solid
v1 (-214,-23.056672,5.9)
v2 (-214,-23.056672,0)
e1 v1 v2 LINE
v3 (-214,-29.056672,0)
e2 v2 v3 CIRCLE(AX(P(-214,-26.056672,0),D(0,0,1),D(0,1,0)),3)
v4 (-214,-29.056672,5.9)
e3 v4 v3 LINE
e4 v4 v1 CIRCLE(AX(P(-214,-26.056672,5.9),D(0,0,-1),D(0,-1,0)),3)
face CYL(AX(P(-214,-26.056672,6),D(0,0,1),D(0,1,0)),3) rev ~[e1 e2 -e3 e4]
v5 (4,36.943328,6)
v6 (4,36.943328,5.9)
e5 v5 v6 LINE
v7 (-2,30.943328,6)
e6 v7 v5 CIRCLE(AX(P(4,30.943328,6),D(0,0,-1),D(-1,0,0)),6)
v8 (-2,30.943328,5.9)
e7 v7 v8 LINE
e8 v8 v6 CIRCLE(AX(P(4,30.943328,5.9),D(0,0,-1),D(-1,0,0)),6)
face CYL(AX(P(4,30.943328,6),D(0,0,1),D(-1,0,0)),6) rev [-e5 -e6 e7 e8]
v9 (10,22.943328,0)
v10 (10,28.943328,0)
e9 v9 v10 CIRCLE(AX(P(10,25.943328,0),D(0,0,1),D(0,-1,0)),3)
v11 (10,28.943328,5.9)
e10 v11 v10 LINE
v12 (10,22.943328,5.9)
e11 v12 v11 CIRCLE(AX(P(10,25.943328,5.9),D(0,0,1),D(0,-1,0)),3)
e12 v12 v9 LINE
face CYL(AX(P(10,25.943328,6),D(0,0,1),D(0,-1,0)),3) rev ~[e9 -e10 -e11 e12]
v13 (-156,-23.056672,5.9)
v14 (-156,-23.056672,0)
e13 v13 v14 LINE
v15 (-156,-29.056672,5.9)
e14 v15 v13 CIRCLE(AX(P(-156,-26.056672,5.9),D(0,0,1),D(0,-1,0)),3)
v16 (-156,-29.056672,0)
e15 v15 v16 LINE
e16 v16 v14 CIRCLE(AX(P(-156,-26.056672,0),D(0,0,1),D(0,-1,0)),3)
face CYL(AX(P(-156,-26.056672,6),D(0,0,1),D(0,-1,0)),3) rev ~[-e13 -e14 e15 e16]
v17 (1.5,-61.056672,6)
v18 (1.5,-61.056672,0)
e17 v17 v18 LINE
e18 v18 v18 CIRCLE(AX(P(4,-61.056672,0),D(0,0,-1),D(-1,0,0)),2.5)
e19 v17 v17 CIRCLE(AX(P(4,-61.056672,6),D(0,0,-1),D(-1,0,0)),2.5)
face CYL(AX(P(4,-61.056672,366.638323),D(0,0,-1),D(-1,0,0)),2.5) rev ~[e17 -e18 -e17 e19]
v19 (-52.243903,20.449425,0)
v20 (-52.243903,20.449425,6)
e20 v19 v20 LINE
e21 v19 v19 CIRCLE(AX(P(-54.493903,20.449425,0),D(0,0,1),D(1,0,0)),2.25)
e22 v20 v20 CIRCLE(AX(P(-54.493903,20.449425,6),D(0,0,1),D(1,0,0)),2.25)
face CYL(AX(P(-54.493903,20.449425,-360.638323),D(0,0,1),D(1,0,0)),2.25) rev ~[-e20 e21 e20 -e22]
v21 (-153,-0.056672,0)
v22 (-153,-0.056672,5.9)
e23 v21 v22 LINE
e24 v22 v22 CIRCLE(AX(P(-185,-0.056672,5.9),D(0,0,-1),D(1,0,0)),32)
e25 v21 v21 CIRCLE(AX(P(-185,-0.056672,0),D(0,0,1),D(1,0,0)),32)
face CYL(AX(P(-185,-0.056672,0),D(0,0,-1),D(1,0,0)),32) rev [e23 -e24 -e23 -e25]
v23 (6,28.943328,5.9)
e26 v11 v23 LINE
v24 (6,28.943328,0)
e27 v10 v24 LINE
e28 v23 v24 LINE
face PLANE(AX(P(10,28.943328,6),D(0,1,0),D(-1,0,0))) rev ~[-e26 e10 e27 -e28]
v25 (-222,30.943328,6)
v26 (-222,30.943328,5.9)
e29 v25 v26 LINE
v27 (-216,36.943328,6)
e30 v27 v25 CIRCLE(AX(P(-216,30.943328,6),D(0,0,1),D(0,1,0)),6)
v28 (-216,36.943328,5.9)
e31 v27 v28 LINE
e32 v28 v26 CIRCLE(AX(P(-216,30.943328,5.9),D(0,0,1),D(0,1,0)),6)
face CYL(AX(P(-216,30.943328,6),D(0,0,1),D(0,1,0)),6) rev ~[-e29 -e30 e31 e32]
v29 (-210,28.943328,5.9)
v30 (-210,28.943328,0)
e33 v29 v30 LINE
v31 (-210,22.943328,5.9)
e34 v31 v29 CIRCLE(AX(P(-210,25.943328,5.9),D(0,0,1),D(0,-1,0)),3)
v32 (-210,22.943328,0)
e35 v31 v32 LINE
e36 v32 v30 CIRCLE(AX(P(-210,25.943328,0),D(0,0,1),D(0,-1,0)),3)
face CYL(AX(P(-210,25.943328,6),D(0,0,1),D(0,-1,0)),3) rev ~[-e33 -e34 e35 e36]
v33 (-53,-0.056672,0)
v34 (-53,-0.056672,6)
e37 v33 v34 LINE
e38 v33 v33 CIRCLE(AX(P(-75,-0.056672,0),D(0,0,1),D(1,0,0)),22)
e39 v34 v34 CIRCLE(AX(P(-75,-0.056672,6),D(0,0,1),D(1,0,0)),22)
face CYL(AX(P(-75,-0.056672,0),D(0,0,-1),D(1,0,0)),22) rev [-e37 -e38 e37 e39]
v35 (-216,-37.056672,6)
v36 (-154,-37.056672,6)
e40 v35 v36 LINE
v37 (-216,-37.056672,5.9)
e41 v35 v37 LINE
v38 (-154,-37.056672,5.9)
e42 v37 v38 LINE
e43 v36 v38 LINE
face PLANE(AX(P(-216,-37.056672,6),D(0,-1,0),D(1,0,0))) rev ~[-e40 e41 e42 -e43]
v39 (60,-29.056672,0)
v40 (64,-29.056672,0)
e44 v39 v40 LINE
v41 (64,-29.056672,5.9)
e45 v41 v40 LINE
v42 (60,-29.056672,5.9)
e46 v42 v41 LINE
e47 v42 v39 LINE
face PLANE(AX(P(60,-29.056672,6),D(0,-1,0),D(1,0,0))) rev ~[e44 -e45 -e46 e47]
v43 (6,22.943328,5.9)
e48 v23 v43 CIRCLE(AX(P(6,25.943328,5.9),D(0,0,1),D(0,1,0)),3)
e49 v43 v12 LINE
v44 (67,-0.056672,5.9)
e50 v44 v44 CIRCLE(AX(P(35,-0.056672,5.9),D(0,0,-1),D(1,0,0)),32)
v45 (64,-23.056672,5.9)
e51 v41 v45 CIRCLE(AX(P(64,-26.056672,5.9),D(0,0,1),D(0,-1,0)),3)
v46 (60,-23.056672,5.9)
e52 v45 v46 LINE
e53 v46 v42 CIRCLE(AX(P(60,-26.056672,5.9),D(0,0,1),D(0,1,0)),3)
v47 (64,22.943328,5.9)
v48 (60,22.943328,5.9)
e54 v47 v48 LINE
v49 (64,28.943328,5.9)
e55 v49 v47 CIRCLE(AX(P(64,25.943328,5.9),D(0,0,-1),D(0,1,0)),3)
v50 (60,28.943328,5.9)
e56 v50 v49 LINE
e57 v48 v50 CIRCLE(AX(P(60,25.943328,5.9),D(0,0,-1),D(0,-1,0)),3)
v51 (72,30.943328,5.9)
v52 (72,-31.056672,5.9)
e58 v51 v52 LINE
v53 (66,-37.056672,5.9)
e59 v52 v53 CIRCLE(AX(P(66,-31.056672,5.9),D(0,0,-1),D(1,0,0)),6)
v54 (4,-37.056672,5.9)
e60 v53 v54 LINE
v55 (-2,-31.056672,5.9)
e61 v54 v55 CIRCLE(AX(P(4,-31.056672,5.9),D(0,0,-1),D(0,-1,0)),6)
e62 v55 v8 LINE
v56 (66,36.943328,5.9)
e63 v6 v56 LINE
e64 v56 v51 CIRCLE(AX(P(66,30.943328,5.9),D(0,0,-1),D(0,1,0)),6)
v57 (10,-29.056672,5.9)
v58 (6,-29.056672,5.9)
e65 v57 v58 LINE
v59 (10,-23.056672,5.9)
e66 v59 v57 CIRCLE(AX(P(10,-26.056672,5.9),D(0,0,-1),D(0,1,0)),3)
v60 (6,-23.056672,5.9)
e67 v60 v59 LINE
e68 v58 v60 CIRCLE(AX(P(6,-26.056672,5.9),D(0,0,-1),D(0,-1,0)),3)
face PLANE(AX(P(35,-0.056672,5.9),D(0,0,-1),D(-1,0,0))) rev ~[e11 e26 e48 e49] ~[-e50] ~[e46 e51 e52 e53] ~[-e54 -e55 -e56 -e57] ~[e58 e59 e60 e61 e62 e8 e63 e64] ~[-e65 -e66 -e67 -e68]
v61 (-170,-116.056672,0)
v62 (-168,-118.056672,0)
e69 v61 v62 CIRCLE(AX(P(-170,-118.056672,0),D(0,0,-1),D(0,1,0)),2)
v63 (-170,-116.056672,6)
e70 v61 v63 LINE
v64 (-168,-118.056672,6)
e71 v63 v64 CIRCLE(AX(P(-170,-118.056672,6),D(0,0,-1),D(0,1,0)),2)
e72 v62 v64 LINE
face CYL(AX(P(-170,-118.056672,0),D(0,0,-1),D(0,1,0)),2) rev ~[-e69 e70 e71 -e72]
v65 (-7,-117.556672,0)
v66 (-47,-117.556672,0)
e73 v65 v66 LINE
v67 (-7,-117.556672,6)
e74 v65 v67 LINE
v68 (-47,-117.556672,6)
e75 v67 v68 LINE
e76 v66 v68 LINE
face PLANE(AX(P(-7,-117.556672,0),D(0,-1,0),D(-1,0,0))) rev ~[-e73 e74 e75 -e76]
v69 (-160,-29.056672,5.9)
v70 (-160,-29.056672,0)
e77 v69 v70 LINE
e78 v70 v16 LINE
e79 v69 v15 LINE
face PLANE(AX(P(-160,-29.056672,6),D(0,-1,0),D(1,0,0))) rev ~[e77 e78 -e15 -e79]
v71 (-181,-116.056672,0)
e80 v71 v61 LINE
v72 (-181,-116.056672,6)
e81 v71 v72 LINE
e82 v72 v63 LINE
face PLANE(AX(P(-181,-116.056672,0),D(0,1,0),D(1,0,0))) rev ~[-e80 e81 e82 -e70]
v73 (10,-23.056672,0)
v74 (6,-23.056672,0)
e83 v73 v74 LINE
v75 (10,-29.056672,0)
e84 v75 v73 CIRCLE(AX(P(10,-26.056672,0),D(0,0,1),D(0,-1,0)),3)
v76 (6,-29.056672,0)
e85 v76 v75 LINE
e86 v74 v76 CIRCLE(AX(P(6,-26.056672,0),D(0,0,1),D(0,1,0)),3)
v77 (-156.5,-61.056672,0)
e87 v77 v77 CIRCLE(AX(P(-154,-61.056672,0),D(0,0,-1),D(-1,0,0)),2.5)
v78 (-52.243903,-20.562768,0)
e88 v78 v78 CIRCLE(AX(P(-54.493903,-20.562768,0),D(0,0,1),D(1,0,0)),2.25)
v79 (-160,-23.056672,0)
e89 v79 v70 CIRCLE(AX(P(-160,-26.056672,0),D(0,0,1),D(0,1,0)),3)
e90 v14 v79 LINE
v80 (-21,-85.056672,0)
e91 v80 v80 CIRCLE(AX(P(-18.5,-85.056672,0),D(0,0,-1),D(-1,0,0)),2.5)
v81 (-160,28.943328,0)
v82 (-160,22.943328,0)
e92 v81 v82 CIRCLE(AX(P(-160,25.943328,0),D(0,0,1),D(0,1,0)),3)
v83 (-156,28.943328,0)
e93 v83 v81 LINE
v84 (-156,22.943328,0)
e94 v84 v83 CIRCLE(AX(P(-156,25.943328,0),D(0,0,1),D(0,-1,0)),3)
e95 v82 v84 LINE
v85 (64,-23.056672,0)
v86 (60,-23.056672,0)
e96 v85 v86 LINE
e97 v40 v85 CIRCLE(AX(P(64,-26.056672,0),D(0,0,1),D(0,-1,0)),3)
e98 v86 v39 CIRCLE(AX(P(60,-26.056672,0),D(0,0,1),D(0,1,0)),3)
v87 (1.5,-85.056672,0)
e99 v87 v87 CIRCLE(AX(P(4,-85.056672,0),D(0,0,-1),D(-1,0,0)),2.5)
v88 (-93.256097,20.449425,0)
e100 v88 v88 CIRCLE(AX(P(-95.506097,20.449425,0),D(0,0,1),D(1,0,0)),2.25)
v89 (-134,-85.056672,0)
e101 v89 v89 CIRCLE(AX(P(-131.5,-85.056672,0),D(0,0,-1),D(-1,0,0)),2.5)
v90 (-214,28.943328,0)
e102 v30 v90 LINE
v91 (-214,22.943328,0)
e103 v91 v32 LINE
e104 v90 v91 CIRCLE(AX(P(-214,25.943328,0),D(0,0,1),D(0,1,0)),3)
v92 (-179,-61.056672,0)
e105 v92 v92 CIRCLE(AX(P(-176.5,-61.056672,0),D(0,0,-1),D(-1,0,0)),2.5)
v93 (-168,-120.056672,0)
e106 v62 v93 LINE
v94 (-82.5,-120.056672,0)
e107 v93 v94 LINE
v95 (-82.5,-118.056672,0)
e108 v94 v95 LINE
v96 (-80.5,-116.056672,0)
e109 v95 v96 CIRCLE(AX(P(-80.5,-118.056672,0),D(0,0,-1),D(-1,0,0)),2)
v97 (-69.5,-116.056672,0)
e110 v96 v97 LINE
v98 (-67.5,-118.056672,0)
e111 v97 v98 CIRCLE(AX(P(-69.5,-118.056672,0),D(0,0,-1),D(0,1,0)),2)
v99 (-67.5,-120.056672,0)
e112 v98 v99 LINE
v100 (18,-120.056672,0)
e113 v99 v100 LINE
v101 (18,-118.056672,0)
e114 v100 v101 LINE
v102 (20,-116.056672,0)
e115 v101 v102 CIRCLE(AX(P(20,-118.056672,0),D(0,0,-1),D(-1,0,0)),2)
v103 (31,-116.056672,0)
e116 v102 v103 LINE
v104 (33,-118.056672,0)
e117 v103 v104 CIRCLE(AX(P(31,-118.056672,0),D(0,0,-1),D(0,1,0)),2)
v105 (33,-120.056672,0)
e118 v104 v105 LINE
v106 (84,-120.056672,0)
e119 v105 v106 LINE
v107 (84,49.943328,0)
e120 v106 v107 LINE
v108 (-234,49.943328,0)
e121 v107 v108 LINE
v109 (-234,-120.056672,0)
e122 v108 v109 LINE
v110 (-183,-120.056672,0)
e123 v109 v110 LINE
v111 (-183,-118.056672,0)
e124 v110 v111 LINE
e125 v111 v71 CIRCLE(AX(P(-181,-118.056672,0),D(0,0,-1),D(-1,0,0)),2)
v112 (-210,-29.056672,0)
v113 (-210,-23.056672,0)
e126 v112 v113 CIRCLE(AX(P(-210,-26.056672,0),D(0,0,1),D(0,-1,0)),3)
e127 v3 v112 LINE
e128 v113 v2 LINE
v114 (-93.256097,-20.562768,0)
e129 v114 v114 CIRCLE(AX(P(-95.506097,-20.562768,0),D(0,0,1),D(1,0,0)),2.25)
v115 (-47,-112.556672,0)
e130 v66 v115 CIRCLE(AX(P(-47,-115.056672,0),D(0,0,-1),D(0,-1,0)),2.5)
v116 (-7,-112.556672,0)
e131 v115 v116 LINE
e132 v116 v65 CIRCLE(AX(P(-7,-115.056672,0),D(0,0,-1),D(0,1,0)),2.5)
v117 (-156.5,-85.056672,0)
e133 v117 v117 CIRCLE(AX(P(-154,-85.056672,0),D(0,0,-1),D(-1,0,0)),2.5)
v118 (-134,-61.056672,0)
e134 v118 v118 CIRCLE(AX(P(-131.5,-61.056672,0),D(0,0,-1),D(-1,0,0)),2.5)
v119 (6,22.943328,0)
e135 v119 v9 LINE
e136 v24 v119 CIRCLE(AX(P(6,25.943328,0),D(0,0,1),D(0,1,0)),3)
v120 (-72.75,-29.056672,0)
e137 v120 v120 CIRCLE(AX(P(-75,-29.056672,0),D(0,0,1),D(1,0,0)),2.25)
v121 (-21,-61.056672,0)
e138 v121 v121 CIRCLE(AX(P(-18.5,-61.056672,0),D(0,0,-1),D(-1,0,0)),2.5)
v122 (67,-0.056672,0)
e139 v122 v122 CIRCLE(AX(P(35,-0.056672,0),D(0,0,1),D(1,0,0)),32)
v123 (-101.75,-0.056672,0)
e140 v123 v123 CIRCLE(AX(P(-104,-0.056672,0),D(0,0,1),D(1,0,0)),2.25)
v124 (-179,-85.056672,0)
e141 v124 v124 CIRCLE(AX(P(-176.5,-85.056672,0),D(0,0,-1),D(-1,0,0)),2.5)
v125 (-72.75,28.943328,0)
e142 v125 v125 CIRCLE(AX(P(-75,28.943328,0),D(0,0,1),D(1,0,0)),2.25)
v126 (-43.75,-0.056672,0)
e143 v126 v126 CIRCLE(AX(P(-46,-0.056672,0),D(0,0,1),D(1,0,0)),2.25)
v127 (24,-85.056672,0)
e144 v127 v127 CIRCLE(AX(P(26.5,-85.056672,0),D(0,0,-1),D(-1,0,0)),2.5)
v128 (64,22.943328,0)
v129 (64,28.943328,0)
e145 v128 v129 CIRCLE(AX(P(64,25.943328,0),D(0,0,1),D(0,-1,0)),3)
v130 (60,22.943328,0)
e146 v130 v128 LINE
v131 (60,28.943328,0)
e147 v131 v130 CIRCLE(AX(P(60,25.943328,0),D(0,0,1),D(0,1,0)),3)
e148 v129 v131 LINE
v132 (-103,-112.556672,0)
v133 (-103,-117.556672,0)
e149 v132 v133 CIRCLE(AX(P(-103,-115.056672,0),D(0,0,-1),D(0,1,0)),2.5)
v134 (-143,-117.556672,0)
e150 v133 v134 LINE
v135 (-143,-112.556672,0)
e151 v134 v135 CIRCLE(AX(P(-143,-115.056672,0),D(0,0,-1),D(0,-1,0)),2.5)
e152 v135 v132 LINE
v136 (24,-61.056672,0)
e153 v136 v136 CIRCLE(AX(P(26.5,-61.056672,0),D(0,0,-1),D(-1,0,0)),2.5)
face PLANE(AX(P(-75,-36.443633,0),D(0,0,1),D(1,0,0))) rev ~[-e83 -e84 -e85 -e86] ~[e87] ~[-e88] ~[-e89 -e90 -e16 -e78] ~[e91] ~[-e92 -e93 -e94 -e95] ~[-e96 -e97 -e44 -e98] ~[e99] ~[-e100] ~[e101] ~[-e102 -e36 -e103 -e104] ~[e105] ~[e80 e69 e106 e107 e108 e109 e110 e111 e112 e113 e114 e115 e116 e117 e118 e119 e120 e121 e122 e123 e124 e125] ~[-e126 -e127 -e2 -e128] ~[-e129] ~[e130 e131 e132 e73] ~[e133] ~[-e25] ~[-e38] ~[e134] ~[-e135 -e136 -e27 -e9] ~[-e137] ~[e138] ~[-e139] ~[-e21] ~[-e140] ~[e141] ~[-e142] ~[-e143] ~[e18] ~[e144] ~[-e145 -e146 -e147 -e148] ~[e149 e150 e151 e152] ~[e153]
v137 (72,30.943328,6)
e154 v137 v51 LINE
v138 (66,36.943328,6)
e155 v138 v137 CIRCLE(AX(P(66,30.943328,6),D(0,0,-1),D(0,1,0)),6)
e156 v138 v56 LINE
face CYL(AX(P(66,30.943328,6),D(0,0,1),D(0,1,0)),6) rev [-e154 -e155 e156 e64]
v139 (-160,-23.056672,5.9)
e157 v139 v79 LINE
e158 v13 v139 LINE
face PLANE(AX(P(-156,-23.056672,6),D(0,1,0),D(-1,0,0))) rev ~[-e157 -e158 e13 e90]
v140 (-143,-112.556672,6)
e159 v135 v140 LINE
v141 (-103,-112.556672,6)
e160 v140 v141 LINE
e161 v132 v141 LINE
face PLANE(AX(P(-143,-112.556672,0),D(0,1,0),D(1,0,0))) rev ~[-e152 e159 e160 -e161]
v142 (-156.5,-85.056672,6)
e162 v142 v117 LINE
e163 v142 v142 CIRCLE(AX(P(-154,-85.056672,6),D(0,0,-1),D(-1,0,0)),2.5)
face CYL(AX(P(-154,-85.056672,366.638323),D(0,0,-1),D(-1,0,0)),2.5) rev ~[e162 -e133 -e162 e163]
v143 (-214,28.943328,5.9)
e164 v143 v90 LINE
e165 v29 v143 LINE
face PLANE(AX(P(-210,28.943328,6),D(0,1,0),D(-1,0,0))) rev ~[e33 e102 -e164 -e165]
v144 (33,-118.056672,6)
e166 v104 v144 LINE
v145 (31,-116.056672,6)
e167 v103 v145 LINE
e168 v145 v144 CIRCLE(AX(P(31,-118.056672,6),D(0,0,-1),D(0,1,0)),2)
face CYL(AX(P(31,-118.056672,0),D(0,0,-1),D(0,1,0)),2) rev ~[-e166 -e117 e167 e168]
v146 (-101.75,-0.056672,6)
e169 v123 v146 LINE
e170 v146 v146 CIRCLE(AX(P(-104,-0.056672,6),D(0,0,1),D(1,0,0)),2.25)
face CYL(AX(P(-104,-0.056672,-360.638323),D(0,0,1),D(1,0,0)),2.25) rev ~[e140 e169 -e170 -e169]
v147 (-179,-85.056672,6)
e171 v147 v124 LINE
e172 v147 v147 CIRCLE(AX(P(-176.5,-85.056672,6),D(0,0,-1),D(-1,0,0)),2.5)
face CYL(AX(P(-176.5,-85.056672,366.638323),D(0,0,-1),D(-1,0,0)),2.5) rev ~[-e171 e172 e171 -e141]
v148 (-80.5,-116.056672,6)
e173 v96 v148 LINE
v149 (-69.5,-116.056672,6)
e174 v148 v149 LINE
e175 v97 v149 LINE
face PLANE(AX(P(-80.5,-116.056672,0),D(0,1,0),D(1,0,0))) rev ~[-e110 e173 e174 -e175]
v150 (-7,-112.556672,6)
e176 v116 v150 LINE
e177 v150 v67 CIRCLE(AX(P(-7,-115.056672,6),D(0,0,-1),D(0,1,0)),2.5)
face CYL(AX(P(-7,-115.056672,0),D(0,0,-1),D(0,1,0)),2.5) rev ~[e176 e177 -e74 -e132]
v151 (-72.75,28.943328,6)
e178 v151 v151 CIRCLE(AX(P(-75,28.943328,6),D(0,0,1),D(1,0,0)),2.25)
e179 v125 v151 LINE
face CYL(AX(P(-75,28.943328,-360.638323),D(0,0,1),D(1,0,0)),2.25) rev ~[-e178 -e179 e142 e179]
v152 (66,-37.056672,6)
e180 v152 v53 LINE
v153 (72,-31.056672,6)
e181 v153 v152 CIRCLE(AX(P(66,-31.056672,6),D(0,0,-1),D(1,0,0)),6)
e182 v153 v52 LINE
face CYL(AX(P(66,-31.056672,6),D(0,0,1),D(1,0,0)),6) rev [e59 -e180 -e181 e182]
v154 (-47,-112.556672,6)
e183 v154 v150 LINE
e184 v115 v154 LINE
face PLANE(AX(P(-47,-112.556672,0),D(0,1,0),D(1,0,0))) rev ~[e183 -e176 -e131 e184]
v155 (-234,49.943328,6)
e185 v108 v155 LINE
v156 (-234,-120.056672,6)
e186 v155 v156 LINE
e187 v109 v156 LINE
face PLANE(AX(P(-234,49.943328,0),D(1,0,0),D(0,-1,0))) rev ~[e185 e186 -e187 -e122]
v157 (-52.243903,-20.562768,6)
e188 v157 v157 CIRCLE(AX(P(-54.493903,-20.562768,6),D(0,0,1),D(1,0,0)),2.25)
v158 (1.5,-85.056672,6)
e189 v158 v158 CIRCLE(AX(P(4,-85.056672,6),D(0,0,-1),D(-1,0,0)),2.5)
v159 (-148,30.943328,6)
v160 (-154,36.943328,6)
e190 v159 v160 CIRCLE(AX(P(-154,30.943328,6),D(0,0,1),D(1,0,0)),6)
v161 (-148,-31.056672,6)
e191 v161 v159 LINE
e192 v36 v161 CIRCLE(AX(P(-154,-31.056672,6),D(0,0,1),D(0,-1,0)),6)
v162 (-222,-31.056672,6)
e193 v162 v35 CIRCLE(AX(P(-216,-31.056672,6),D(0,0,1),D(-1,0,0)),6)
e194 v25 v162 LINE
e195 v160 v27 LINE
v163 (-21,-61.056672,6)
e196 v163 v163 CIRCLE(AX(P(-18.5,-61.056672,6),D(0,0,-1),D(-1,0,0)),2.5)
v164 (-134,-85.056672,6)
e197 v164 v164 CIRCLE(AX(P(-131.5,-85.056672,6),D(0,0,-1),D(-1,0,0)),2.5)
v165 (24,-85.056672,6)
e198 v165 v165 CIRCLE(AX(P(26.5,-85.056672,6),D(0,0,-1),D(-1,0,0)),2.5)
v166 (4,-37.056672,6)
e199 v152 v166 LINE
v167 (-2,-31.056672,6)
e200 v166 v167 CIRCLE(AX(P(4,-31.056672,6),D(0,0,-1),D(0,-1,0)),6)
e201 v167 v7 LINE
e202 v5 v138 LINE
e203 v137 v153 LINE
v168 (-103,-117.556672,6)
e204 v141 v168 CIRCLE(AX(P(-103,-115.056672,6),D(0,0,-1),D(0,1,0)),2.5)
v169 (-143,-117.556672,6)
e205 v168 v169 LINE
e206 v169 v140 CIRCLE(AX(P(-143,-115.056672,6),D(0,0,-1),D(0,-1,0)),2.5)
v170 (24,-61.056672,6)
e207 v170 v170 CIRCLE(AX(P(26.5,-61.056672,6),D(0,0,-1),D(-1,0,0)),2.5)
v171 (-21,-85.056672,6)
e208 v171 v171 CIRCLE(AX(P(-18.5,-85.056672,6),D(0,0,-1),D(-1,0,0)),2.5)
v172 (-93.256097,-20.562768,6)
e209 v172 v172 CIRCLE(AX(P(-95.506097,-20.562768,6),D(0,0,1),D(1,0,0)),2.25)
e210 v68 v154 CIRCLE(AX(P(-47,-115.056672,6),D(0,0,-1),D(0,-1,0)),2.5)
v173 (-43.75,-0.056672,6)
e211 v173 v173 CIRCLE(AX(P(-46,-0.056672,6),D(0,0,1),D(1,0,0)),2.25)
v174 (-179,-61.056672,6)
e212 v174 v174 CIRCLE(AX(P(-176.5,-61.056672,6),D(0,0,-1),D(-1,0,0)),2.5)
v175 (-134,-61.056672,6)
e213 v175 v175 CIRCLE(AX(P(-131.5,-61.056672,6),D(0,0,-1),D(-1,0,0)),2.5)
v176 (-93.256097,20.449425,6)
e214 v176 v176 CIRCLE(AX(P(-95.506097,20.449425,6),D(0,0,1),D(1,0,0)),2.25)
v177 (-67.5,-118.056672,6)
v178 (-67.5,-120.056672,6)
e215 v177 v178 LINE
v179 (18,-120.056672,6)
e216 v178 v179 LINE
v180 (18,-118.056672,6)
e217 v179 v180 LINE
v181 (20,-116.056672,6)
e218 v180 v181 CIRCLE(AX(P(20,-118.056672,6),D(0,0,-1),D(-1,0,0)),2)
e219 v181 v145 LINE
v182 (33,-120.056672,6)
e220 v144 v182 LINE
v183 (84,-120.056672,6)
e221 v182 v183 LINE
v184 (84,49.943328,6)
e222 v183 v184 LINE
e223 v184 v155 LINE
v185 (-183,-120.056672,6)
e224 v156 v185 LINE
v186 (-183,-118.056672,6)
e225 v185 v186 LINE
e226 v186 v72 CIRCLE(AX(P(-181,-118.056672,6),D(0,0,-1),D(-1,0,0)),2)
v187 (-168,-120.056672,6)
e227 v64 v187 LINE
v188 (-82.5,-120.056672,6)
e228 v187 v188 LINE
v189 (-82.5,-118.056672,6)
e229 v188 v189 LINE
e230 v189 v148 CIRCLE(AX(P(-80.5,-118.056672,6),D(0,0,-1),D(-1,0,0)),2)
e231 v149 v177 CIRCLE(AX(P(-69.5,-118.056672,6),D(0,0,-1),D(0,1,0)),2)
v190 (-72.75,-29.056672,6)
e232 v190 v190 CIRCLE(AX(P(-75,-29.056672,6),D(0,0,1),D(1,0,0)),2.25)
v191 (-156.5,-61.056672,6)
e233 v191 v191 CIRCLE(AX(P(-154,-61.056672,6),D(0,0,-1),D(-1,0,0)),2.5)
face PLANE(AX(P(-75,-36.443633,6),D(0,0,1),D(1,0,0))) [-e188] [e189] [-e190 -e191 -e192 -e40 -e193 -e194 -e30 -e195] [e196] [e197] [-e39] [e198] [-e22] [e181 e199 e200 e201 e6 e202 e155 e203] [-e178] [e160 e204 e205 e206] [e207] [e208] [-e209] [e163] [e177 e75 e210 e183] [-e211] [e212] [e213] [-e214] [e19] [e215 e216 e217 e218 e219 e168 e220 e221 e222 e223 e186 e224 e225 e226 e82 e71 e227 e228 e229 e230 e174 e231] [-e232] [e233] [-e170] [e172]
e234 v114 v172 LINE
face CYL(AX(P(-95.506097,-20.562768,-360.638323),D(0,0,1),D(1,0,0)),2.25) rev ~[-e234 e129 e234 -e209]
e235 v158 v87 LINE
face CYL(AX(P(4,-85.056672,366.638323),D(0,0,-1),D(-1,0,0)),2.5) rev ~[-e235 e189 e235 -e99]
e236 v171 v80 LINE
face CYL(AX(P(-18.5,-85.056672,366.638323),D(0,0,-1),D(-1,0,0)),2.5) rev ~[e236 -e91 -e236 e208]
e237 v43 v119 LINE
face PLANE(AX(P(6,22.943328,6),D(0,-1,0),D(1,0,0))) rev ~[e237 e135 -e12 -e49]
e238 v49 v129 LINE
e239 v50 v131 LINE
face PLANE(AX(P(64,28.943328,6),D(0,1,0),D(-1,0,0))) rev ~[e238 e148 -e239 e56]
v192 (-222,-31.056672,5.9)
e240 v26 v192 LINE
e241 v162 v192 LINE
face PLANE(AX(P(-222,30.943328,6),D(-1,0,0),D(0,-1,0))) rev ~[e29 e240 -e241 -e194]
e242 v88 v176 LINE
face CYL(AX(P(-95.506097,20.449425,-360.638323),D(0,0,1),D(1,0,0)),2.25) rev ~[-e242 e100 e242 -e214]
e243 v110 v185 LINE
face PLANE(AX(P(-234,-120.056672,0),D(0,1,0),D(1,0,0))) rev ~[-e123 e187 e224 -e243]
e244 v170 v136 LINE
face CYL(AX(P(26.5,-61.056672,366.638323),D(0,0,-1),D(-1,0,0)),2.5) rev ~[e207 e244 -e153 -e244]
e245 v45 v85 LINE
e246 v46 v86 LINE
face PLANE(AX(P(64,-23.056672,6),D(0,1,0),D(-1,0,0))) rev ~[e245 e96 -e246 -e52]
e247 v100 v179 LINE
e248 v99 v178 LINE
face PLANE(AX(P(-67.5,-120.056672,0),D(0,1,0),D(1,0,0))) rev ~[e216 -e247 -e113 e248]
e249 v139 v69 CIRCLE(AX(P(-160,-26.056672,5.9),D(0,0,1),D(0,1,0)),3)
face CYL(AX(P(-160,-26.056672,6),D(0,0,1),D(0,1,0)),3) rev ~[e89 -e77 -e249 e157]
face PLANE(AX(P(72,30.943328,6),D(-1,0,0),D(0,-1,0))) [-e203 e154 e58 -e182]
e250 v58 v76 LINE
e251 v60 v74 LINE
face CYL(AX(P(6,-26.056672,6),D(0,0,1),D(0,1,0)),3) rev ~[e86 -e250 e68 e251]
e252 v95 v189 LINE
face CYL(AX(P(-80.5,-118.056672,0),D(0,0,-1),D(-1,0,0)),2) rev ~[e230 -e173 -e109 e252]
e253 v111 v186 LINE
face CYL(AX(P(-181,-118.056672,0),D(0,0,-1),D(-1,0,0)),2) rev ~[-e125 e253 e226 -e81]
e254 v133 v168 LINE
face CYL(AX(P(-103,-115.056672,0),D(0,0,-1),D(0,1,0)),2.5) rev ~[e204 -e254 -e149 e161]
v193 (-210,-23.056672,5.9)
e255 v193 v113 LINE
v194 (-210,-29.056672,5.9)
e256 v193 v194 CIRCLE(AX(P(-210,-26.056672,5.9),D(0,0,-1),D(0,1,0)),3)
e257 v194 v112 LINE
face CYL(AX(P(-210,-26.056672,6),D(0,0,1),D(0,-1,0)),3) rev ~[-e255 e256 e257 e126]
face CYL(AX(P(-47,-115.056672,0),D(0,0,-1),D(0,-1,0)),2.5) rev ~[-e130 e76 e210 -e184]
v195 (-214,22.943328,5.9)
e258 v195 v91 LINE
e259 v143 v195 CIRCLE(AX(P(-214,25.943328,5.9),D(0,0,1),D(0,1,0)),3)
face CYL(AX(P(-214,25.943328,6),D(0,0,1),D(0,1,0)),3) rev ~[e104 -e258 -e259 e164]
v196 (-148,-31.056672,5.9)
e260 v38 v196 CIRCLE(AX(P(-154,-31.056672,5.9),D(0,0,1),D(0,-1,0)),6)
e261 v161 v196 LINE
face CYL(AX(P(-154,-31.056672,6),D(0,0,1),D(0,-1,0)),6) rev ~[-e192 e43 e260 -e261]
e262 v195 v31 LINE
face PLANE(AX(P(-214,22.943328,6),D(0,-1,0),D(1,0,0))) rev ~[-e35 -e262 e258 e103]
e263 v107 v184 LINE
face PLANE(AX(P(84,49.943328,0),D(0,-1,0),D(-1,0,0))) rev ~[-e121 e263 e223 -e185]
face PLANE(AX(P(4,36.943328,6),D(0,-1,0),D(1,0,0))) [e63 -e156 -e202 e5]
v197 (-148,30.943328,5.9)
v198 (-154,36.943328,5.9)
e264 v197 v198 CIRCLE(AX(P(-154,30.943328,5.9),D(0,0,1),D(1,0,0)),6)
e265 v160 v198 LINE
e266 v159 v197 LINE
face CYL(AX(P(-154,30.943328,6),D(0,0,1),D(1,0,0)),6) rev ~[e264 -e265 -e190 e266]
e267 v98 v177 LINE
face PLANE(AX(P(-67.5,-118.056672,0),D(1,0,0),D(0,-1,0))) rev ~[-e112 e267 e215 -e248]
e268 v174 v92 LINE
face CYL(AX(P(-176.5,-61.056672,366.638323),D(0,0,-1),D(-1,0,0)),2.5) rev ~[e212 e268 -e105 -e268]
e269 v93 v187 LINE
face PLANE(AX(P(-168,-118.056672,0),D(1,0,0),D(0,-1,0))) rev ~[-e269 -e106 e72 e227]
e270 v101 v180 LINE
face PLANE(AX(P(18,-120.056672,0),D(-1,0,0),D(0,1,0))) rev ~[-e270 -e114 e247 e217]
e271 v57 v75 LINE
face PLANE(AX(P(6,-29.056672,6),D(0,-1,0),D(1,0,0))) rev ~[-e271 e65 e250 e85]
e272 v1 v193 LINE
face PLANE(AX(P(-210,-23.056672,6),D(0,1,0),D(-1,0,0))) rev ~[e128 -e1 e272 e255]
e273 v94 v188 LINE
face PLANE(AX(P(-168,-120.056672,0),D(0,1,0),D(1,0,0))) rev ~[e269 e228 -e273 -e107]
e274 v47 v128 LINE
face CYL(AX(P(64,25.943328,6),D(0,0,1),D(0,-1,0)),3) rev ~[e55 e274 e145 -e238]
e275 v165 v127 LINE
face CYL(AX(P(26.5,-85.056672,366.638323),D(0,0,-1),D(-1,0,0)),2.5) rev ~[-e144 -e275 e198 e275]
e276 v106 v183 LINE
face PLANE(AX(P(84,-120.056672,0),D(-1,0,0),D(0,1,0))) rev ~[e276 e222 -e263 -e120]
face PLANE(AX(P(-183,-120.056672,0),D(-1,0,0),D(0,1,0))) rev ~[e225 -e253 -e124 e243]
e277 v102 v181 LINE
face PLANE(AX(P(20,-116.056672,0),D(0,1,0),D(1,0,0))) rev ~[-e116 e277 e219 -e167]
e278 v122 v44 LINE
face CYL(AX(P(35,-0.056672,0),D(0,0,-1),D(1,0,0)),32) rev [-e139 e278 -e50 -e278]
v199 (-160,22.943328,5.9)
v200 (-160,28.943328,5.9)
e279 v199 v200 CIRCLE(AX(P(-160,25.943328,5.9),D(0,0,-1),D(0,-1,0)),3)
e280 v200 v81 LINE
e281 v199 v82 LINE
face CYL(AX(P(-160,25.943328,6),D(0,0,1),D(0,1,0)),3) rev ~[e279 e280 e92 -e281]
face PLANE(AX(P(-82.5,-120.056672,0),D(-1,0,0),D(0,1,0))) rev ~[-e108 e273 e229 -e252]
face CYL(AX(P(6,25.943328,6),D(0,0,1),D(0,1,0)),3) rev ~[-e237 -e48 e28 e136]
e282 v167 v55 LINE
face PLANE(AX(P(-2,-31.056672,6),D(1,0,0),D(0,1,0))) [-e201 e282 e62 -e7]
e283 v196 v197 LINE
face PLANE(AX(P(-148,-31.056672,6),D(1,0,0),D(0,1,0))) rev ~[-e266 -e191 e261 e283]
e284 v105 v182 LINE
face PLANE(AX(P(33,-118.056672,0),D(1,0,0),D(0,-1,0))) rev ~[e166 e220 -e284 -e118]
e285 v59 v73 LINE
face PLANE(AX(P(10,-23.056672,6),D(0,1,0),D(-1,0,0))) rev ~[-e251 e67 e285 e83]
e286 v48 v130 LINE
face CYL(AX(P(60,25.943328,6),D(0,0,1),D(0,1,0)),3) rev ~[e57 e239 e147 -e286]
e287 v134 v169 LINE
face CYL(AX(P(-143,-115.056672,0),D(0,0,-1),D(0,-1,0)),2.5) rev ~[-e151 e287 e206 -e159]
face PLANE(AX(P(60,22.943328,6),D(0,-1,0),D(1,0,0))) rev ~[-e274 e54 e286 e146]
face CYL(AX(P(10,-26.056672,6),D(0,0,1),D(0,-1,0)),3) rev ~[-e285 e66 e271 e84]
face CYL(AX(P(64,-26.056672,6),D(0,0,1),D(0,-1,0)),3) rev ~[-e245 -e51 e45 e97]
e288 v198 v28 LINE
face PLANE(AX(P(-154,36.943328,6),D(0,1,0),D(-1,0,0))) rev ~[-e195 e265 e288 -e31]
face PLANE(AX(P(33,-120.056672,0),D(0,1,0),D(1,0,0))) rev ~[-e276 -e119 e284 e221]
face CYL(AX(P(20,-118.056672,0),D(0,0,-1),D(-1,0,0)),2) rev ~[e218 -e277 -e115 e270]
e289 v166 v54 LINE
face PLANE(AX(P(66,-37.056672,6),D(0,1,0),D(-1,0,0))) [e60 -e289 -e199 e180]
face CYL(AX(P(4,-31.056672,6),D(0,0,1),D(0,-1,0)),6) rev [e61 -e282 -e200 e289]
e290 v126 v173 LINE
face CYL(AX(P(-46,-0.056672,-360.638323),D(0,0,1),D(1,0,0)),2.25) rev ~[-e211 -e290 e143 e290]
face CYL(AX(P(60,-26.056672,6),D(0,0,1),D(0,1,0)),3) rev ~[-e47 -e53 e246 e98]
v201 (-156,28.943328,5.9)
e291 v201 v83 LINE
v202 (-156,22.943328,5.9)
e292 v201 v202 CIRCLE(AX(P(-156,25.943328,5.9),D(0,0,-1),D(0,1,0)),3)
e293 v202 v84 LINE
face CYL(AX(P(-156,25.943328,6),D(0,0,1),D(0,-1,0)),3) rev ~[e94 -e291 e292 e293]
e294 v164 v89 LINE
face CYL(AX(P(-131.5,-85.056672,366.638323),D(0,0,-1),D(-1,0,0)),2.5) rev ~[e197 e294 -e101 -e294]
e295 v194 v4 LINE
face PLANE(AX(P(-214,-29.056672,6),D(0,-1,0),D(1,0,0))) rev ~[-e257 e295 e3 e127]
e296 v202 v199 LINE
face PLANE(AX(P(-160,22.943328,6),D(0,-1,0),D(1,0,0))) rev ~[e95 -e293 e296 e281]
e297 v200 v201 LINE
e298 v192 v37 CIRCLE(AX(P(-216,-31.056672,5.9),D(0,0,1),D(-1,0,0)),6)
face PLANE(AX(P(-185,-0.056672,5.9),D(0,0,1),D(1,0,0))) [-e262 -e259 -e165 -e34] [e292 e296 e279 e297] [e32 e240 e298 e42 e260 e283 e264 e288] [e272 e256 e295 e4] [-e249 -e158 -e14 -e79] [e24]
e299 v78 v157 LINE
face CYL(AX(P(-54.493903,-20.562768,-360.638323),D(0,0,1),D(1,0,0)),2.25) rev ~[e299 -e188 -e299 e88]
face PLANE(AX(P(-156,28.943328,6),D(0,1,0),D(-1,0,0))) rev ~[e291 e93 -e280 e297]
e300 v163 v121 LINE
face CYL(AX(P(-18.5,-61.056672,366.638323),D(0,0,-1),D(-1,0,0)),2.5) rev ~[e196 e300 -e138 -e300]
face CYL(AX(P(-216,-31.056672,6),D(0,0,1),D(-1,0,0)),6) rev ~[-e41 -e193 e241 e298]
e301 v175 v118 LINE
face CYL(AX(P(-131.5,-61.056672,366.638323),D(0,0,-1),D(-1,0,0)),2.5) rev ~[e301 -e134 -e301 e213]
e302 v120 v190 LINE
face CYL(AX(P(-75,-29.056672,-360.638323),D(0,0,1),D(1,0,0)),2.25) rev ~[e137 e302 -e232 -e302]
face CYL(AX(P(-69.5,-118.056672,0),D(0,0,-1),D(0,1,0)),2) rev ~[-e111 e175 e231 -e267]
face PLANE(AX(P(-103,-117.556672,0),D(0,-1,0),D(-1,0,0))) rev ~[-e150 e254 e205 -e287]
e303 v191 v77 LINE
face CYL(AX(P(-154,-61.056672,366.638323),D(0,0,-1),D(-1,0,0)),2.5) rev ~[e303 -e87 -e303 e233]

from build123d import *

# Parameters (mm, degrees)
SKIZZE1_R                       = 32
SKIZZE1_R_2                     = 22
AUFSATZ_LINEAR_AUSTRAGEN1_DEPTH = 6
SKIZZE4_R                       = 30
SCHNITT_LINEAR_AUSTRAGEN1_DEPTH = 0.1
CUT_EXTRUDE_1_DEPTH             = 264.069580964
DURCHGANGSLOCH_F_R_M41_D        = 4.5
F_5_0_5_DURCHMESSER_BOHRUNG1_D  = 5


with BuildPart() as part:
    # Skizze1 → Aufsatz-Linear austragen1 (new body)
    with BuildSketch(Plane.XY):
        with BuildLine():
            Line((84, 49.943328262), (-234, 49.943328262))
            Line((-234, 49.943328262), (-234, -120.056671738))
            Line((-234, -120.056671738), (-183, -120.056671738))
            Line((-183, -120.056671738), (-183, -118.056671738))
            ThreePointArc((-183, -118.056671738), (-182.414213562, -116.642458175), (-181, -116.056671738))
            Line((-181, -116.056671738), (-170, -116.056671738))
            ThreePointArc((-170, -116.056671738), (-168.585786438, -116.642458175), (-168, -118.056671738))
            Line((-168, -118.056671738), (-168, -120.056671738))
            Line((-168, -120.056671738), (-82.5, -120.056671738))
            Line((-82.5, -120.056671738), (-82.5, -118.056671738))
            ThreePointArc((-82.5, -118.056671738), (-81.914213562, -116.642458175), (-80.5, -116.056671738))
            Line((-80.5, -116.056671738), (-69.5, -116.056671738))
            ThreePointArc((-69.5, -116.056671738), (-68.085786438, -116.642458175), (-67.5, -118.056671738))
            Line((-67.5, -118.056671738), (-67.5, -120.056671738))
            Line((-67.5, -120.056671738), (18, -120.056671738))
            Line((18, -120.056671738), (18, -118.056671738))
            ThreePointArc((18, -118.056671738), (18.585786438, -116.642458175), (20, -116.056671738))
            Line((20, -116.056671738), (31, -116.056671738))
            ThreePointArc((31, -116.056671738), (32.414213562, -116.642458175), (33, -118.056671738))
            Line((33, -118.056671738), (33, -120.056671738))
            Line((33, -120.056671738), (84, -120.056671738))
            Line((84, -120.056671738), (84, 49.943328262))
        make_face()
        with BuildLine():
            Line((-143, -112.556671738), (-103, -112.556671738))
            ThreePointArc((-103, -112.556671738), (-100.5, -115.056671738), (-103, -117.556671738))
            Line((-103, -117.556671738), (-143, -117.556671738))
            ThreePointArc((-143, -117.556671738), (-145.5, -115.056671738), (-143, -112.556671738))
        make_face(mode=Mode.SUBTRACT)
        with BuildLine():
            Line((-7, -117.556671738), (-47, -117.556671738))
            ThreePointArc((-47, -117.556671738), (-49.5, -115.056671738), (-47, -112.556671738))
            Line((-47, -112.556671738), (-7, -112.556671738))
            ThreePointArc((-7, -112.556671738), (-4.5, -115.056671738), (-7, -117.556671738))
        make_face(mode=Mode.SUBTRACT)
        with Locations((-185, -0.056671738)):
            Circle(SKIZZE1_R, mode=Mode.SUBTRACT)
        with Locations((-75, -0.056671738)):
            Circle(SKIZZE1_R_2, mode=Mode.SUBTRACT)
        with Locations((35, -0.056671738)):
            Circle(SKIZZE1_R, mode=Mode.SUBTRACT)
    extrude(amount=AUFSATZ_LINEAR_AUSTRAGEN1_DEPTH)

    # Skizze4 → Schnitt-Linear austragen1 (cut)
    # profile 1 of 2: a face of its own
    with BuildSketch(Plane.XY.offset(6)):
        with BuildLine():
            Line((66, -37.056671738), (4, -37.056671738))
            ThreePointArc((4, -37.056671738), (-0.242640687, -35.299312425), (-2, -31.056671738))
            Line((-2, -31.056671738), (-2, 30.943328262))
            ThreePointArc((-2, 30.943328262), (-0.242640687, 35.185968949), (4, 36.943328262))
            Line((4, 36.943328262), (35, 36.943328262))
            Line((35, 36.943328262), (66, 36.943328262))
            ThreePointArc((66, 36.943328262), (70.242640687, 35.185968949), (72, 30.943328262))
            Line((72, 30.943328262), (72, -31.056671738))
            ThreePointArc((72, -31.056671738), (70.242640687, -35.299312425), (66, -37.056671738))
        make_face()
        with Locations((35, -0.056671738)):
            Circle(SKIZZE4_R, mode=Mode.SUBTRACT)
        with BuildLine():
            Line((64, 22.943328262), (60, 22.943328262))
            ThreePointArc((60, 22.943328262), (57, 25.943328262), (60, 28.943328262))
            Line((60, 28.943328262), (64, 28.943328262))
            ThreePointArc((64, 28.943328262), (67, 25.943328262), (64, 22.943328262))
        make_face(mode=Mode.SUBTRACT)
        with BuildLine():
            Line((10, 28.943328262), (6, 28.943328262))
            ThreePointArc((6, 28.943328262), (3, 25.943328262), (6, 22.943328262))
            Line((6, 22.943328262), (10, 22.943328262))
            ThreePointArc((10, 22.943328262), (13, 25.943328262), (10, 28.943328262))
        make_face(mode=Mode.SUBTRACT)
        with BuildLine():
            Line((10, -29.056671738), (6, -29.056671738))
            ThreePointArc((6, -29.056671738), (3, -26.056671738), (6, -23.056671738))
            Line((6, -23.056671738), (10, -23.056671738))
            ThreePointArc((10, -23.056671738), (13, -26.056671738), (10, -29.056671738))
        make_face(mode=Mode.SUBTRACT)
        with BuildLine():
            Line((60, -29.056671738), (64, -29.056671738))
            ThreePointArc((64, -29.056671738), (67, -26.056671738), (64, -23.056671738))
            Line((64, -23.056671738), (60, -23.056671738))
            ThreePointArc((60, -23.056671738), (57, -26.056671738), (60, -29.056671738))
        make_face(mode=Mode.SUBTRACT)
    # profile 2 of 2: a face of its own
    with BuildSketch(Plane.XY.offset(6)):
        with BuildLine():
            Line((-185, 36.943328262), (-216, 36.943328262))
            ThreePointArc((-216, 36.943328262), (-220.242640687, 35.185968949), (-222, 30.943328262))
            Line((-222, 30.943328262), (-222, -31.056671738))
            ThreePointArc((-222, -31.056671738), (-220.242640687, -35.299312425), (-216, -37.056671738))
            Line((-216, -37.056671738), (-154, -37.056671738))
            ThreePointArc((-154, -37.056671738), (-149.757359313, -35.299312425), (-148, -31.056671738))
            Line((-148, -31.056671738), (-148, 30.943328262))
            ThreePointArc((-148, 30.943328262), (-149.757359313, 35.185968949), (-154, 36.943328262))
            Line((-154, 36.943328262), (-185, 36.943328262))
        make_face()
        with Locations((-185, -0.056671738)):
            Circle(SKIZZE4_R, mode=Mode.SUBTRACT)
        with BuildLine():
            Line((-214, -23.056671738), (-210, -23.056671738))
            ThreePointArc((-210, -23.056671738), (-207, -26.056671738), (-210, -29.056671738))
            Line((-210, -29.056671738), (-214, -29.056671738))
            ThreePointArc((-214, -29.056671738), (-217, -26.056671738), (-214, -23.056671738))
        make_face(mode=Mode.SUBTRACT)
        with BuildLine():
            Line((-210, 28.943328262), (-214, 28.943328262))
            ThreePointArc((-214, 28.943328262), (-217, 25.943328262), (-214, 22.943328262))
            Line((-214, 22.943328262), (-210, 22.943328262))
            ThreePointArc((-210, 22.943328262), (-207, 25.943328262), (-210, 28.943328262))
        make_face(mode=Mode.SUBTRACT)
        with BuildLine():
            Line((-156, -23.056671738), (-160, -23.056671738))
            ThreePointArc((-160, -23.056671738), (-163, -26.056671738), (-160, -29.056671738))
            Line((-160, -29.056671738), (-156, -29.056671738))
            ThreePointArc((-156, -29.056671738), (-153, -26.056671738), (-156, -23.056671738))
        make_face(mode=Mode.SUBTRACT)
        with BuildLine():
            Line((-156, 22.943328262), (-160, 22.943328262))
            ThreePointArc((-160, 22.943328262), (-163, 25.943328262), (-160, 28.943328262))
            Line((-160, 28.943328262), (-156, 28.943328262))
            ThreePointArc((-156, 28.943328262), (-153, 25.943328262), (-156, 22.943328262))
        make_face(mode=Mode.SUBTRACT)
    extrude(amount=-SCHNITT_LINEAR_AUSTRAGEN1_DEPTH, mode=Mode.SUBTRACT)

    # Эскиз2 → Вырез-Вытянуть1 (cut, through all)
    with BuildSketch(Plane.XY.offset(6)):
        with BuildLine():
            Line((-214, -29.056671738), (-210, -29.056671738))
            ThreePointArc((-210, -29.056671738), (-207, -26.056671738), (-210, -23.056671738))
            Line((-210, -23.056671738), (-214, -23.056671738))
            ThreePointArc((-214, -23.056671738), (-217, -26.056671738), (-214, -29.056671738))
        make_face()
        with BuildLine():
            Line((-160, -29.056671738), (-156, -29.056671738))
            ThreePointArc((-156, -29.056671738), (-153, -26.056671738), (-156, -23.056671738))
            Line((-156, -23.056671738), (-160, -23.056671738))
            ThreePointArc((-160, -23.056671738), (-163, -26.056671738), (-160, -29.056671738))
        make_face()
        with BuildLine():
            Line((-156, 28.943328262), (-160, 28.943328262))
            ThreePointArc((-160, 28.943328262), (-163, 25.943328262), (-160, 22.943328262))
            Line((-160, 22.943328262), (-156, 22.943328262))
            ThreePointArc((-156, 22.943328262), (-153, 25.943328262), (-156, 28.943328262))
        make_face()
        with BuildLine():
            Line((-214, 22.943328262), (-210, 22.943328262))
            ThreePointArc((-210, 22.943328262), (-207, 25.943328262), (-210, 28.943328262))
            Line((-210, 28.943328262), (-214, 28.943328262))
            ThreePointArc((-214, 28.943328262), (-217, 25.943328262), (-214, 22.943328262))
        make_face()
        with BuildLine():
            Line((6, 22.943328262), (10, 22.943328262))
            ThreePointArc((10, 22.943328262), (13, 25.943328262), (10, 28.943328262))
            Line((10, 28.943328262), (6, 28.943328262))
            ThreePointArc((6, 28.943328262), (3, 25.943328262), (6, 22.943328262))
        make_face()
        with BuildLine():
            Line((64, 28.943328262), (60, 28.943328262))
            ThreePointArc((60, 28.943328262), (57, 25.943328262), (60, 22.943328262))
            Line((60, 22.943328262), (64, 22.943328262))
            ThreePointArc((64, 22.943328262), (67, 25.943328262), (64, 28.943328262))
        make_face()
        with BuildLine():
            Line((64, -23.056671738), (60, -23.056671738))
            ThreePointArc((60, -23.056671738), (57, -26.056671738), (60, -29.056671738))
            Line((60, -29.056671738), (64, -29.056671738))
            ThreePointArc((64, -29.056671738), (67, -26.056671738), (64, -23.056671738))
        make_face()
        with BuildLine():
            Line((10, -23.056671738), (6, -23.056671738))
            ThreePointArc((6, -23.056671738), (3, -26.056671738), (6, -29.056671738))
            Line((6, -29.056671738), (10, -29.056671738))
            ThreePointArc((10, -29.056671738), (13, -26.056671738), (10, -23.056671738))
        make_face()
    extrude(amount=-CUT_EXTRUDE_1_DEPTH, mode=Mode.SUBTRACT)

    # Durchgangsloch für M41 (through all)
    with Locations(Plane(origin=(0, 0, 0), x_dir=(-1, 0, 0), z_dir=(0, 0, -1))):
        with Locations((75, 28.943328262), (95.506096654, 20.449424917), (104, -0.056671738), (95.506096654, -20.562768392), (75, -29.056671738), (54.493903346, -20.562768392), (46, -0.056671738), (54.493903346, 20.449424917)):
            Hole(DURCHGANGSLOCH_F_R_M41_D / 2)

    # Ø5.0 (5) Durchmesser Bohrung1 (through all)
    with Locations(Plane(origin=(-176.5, -85.056671738, 6), x_dir=(1, 0, 0), z_dir=(0, 0, 1))):
        with Locations((0, 0), (0, 24), (22.5, 24), (45, 24), (45, 0), (22.5, 0), (158, 24), (180.5, 24), (203, 24), (203, 0), (180.5, 0), (158, 0)):
            Hole(F_5_0_5_DURCHMESSER_BOHRUNG1_D / 2)


solid = part.part
